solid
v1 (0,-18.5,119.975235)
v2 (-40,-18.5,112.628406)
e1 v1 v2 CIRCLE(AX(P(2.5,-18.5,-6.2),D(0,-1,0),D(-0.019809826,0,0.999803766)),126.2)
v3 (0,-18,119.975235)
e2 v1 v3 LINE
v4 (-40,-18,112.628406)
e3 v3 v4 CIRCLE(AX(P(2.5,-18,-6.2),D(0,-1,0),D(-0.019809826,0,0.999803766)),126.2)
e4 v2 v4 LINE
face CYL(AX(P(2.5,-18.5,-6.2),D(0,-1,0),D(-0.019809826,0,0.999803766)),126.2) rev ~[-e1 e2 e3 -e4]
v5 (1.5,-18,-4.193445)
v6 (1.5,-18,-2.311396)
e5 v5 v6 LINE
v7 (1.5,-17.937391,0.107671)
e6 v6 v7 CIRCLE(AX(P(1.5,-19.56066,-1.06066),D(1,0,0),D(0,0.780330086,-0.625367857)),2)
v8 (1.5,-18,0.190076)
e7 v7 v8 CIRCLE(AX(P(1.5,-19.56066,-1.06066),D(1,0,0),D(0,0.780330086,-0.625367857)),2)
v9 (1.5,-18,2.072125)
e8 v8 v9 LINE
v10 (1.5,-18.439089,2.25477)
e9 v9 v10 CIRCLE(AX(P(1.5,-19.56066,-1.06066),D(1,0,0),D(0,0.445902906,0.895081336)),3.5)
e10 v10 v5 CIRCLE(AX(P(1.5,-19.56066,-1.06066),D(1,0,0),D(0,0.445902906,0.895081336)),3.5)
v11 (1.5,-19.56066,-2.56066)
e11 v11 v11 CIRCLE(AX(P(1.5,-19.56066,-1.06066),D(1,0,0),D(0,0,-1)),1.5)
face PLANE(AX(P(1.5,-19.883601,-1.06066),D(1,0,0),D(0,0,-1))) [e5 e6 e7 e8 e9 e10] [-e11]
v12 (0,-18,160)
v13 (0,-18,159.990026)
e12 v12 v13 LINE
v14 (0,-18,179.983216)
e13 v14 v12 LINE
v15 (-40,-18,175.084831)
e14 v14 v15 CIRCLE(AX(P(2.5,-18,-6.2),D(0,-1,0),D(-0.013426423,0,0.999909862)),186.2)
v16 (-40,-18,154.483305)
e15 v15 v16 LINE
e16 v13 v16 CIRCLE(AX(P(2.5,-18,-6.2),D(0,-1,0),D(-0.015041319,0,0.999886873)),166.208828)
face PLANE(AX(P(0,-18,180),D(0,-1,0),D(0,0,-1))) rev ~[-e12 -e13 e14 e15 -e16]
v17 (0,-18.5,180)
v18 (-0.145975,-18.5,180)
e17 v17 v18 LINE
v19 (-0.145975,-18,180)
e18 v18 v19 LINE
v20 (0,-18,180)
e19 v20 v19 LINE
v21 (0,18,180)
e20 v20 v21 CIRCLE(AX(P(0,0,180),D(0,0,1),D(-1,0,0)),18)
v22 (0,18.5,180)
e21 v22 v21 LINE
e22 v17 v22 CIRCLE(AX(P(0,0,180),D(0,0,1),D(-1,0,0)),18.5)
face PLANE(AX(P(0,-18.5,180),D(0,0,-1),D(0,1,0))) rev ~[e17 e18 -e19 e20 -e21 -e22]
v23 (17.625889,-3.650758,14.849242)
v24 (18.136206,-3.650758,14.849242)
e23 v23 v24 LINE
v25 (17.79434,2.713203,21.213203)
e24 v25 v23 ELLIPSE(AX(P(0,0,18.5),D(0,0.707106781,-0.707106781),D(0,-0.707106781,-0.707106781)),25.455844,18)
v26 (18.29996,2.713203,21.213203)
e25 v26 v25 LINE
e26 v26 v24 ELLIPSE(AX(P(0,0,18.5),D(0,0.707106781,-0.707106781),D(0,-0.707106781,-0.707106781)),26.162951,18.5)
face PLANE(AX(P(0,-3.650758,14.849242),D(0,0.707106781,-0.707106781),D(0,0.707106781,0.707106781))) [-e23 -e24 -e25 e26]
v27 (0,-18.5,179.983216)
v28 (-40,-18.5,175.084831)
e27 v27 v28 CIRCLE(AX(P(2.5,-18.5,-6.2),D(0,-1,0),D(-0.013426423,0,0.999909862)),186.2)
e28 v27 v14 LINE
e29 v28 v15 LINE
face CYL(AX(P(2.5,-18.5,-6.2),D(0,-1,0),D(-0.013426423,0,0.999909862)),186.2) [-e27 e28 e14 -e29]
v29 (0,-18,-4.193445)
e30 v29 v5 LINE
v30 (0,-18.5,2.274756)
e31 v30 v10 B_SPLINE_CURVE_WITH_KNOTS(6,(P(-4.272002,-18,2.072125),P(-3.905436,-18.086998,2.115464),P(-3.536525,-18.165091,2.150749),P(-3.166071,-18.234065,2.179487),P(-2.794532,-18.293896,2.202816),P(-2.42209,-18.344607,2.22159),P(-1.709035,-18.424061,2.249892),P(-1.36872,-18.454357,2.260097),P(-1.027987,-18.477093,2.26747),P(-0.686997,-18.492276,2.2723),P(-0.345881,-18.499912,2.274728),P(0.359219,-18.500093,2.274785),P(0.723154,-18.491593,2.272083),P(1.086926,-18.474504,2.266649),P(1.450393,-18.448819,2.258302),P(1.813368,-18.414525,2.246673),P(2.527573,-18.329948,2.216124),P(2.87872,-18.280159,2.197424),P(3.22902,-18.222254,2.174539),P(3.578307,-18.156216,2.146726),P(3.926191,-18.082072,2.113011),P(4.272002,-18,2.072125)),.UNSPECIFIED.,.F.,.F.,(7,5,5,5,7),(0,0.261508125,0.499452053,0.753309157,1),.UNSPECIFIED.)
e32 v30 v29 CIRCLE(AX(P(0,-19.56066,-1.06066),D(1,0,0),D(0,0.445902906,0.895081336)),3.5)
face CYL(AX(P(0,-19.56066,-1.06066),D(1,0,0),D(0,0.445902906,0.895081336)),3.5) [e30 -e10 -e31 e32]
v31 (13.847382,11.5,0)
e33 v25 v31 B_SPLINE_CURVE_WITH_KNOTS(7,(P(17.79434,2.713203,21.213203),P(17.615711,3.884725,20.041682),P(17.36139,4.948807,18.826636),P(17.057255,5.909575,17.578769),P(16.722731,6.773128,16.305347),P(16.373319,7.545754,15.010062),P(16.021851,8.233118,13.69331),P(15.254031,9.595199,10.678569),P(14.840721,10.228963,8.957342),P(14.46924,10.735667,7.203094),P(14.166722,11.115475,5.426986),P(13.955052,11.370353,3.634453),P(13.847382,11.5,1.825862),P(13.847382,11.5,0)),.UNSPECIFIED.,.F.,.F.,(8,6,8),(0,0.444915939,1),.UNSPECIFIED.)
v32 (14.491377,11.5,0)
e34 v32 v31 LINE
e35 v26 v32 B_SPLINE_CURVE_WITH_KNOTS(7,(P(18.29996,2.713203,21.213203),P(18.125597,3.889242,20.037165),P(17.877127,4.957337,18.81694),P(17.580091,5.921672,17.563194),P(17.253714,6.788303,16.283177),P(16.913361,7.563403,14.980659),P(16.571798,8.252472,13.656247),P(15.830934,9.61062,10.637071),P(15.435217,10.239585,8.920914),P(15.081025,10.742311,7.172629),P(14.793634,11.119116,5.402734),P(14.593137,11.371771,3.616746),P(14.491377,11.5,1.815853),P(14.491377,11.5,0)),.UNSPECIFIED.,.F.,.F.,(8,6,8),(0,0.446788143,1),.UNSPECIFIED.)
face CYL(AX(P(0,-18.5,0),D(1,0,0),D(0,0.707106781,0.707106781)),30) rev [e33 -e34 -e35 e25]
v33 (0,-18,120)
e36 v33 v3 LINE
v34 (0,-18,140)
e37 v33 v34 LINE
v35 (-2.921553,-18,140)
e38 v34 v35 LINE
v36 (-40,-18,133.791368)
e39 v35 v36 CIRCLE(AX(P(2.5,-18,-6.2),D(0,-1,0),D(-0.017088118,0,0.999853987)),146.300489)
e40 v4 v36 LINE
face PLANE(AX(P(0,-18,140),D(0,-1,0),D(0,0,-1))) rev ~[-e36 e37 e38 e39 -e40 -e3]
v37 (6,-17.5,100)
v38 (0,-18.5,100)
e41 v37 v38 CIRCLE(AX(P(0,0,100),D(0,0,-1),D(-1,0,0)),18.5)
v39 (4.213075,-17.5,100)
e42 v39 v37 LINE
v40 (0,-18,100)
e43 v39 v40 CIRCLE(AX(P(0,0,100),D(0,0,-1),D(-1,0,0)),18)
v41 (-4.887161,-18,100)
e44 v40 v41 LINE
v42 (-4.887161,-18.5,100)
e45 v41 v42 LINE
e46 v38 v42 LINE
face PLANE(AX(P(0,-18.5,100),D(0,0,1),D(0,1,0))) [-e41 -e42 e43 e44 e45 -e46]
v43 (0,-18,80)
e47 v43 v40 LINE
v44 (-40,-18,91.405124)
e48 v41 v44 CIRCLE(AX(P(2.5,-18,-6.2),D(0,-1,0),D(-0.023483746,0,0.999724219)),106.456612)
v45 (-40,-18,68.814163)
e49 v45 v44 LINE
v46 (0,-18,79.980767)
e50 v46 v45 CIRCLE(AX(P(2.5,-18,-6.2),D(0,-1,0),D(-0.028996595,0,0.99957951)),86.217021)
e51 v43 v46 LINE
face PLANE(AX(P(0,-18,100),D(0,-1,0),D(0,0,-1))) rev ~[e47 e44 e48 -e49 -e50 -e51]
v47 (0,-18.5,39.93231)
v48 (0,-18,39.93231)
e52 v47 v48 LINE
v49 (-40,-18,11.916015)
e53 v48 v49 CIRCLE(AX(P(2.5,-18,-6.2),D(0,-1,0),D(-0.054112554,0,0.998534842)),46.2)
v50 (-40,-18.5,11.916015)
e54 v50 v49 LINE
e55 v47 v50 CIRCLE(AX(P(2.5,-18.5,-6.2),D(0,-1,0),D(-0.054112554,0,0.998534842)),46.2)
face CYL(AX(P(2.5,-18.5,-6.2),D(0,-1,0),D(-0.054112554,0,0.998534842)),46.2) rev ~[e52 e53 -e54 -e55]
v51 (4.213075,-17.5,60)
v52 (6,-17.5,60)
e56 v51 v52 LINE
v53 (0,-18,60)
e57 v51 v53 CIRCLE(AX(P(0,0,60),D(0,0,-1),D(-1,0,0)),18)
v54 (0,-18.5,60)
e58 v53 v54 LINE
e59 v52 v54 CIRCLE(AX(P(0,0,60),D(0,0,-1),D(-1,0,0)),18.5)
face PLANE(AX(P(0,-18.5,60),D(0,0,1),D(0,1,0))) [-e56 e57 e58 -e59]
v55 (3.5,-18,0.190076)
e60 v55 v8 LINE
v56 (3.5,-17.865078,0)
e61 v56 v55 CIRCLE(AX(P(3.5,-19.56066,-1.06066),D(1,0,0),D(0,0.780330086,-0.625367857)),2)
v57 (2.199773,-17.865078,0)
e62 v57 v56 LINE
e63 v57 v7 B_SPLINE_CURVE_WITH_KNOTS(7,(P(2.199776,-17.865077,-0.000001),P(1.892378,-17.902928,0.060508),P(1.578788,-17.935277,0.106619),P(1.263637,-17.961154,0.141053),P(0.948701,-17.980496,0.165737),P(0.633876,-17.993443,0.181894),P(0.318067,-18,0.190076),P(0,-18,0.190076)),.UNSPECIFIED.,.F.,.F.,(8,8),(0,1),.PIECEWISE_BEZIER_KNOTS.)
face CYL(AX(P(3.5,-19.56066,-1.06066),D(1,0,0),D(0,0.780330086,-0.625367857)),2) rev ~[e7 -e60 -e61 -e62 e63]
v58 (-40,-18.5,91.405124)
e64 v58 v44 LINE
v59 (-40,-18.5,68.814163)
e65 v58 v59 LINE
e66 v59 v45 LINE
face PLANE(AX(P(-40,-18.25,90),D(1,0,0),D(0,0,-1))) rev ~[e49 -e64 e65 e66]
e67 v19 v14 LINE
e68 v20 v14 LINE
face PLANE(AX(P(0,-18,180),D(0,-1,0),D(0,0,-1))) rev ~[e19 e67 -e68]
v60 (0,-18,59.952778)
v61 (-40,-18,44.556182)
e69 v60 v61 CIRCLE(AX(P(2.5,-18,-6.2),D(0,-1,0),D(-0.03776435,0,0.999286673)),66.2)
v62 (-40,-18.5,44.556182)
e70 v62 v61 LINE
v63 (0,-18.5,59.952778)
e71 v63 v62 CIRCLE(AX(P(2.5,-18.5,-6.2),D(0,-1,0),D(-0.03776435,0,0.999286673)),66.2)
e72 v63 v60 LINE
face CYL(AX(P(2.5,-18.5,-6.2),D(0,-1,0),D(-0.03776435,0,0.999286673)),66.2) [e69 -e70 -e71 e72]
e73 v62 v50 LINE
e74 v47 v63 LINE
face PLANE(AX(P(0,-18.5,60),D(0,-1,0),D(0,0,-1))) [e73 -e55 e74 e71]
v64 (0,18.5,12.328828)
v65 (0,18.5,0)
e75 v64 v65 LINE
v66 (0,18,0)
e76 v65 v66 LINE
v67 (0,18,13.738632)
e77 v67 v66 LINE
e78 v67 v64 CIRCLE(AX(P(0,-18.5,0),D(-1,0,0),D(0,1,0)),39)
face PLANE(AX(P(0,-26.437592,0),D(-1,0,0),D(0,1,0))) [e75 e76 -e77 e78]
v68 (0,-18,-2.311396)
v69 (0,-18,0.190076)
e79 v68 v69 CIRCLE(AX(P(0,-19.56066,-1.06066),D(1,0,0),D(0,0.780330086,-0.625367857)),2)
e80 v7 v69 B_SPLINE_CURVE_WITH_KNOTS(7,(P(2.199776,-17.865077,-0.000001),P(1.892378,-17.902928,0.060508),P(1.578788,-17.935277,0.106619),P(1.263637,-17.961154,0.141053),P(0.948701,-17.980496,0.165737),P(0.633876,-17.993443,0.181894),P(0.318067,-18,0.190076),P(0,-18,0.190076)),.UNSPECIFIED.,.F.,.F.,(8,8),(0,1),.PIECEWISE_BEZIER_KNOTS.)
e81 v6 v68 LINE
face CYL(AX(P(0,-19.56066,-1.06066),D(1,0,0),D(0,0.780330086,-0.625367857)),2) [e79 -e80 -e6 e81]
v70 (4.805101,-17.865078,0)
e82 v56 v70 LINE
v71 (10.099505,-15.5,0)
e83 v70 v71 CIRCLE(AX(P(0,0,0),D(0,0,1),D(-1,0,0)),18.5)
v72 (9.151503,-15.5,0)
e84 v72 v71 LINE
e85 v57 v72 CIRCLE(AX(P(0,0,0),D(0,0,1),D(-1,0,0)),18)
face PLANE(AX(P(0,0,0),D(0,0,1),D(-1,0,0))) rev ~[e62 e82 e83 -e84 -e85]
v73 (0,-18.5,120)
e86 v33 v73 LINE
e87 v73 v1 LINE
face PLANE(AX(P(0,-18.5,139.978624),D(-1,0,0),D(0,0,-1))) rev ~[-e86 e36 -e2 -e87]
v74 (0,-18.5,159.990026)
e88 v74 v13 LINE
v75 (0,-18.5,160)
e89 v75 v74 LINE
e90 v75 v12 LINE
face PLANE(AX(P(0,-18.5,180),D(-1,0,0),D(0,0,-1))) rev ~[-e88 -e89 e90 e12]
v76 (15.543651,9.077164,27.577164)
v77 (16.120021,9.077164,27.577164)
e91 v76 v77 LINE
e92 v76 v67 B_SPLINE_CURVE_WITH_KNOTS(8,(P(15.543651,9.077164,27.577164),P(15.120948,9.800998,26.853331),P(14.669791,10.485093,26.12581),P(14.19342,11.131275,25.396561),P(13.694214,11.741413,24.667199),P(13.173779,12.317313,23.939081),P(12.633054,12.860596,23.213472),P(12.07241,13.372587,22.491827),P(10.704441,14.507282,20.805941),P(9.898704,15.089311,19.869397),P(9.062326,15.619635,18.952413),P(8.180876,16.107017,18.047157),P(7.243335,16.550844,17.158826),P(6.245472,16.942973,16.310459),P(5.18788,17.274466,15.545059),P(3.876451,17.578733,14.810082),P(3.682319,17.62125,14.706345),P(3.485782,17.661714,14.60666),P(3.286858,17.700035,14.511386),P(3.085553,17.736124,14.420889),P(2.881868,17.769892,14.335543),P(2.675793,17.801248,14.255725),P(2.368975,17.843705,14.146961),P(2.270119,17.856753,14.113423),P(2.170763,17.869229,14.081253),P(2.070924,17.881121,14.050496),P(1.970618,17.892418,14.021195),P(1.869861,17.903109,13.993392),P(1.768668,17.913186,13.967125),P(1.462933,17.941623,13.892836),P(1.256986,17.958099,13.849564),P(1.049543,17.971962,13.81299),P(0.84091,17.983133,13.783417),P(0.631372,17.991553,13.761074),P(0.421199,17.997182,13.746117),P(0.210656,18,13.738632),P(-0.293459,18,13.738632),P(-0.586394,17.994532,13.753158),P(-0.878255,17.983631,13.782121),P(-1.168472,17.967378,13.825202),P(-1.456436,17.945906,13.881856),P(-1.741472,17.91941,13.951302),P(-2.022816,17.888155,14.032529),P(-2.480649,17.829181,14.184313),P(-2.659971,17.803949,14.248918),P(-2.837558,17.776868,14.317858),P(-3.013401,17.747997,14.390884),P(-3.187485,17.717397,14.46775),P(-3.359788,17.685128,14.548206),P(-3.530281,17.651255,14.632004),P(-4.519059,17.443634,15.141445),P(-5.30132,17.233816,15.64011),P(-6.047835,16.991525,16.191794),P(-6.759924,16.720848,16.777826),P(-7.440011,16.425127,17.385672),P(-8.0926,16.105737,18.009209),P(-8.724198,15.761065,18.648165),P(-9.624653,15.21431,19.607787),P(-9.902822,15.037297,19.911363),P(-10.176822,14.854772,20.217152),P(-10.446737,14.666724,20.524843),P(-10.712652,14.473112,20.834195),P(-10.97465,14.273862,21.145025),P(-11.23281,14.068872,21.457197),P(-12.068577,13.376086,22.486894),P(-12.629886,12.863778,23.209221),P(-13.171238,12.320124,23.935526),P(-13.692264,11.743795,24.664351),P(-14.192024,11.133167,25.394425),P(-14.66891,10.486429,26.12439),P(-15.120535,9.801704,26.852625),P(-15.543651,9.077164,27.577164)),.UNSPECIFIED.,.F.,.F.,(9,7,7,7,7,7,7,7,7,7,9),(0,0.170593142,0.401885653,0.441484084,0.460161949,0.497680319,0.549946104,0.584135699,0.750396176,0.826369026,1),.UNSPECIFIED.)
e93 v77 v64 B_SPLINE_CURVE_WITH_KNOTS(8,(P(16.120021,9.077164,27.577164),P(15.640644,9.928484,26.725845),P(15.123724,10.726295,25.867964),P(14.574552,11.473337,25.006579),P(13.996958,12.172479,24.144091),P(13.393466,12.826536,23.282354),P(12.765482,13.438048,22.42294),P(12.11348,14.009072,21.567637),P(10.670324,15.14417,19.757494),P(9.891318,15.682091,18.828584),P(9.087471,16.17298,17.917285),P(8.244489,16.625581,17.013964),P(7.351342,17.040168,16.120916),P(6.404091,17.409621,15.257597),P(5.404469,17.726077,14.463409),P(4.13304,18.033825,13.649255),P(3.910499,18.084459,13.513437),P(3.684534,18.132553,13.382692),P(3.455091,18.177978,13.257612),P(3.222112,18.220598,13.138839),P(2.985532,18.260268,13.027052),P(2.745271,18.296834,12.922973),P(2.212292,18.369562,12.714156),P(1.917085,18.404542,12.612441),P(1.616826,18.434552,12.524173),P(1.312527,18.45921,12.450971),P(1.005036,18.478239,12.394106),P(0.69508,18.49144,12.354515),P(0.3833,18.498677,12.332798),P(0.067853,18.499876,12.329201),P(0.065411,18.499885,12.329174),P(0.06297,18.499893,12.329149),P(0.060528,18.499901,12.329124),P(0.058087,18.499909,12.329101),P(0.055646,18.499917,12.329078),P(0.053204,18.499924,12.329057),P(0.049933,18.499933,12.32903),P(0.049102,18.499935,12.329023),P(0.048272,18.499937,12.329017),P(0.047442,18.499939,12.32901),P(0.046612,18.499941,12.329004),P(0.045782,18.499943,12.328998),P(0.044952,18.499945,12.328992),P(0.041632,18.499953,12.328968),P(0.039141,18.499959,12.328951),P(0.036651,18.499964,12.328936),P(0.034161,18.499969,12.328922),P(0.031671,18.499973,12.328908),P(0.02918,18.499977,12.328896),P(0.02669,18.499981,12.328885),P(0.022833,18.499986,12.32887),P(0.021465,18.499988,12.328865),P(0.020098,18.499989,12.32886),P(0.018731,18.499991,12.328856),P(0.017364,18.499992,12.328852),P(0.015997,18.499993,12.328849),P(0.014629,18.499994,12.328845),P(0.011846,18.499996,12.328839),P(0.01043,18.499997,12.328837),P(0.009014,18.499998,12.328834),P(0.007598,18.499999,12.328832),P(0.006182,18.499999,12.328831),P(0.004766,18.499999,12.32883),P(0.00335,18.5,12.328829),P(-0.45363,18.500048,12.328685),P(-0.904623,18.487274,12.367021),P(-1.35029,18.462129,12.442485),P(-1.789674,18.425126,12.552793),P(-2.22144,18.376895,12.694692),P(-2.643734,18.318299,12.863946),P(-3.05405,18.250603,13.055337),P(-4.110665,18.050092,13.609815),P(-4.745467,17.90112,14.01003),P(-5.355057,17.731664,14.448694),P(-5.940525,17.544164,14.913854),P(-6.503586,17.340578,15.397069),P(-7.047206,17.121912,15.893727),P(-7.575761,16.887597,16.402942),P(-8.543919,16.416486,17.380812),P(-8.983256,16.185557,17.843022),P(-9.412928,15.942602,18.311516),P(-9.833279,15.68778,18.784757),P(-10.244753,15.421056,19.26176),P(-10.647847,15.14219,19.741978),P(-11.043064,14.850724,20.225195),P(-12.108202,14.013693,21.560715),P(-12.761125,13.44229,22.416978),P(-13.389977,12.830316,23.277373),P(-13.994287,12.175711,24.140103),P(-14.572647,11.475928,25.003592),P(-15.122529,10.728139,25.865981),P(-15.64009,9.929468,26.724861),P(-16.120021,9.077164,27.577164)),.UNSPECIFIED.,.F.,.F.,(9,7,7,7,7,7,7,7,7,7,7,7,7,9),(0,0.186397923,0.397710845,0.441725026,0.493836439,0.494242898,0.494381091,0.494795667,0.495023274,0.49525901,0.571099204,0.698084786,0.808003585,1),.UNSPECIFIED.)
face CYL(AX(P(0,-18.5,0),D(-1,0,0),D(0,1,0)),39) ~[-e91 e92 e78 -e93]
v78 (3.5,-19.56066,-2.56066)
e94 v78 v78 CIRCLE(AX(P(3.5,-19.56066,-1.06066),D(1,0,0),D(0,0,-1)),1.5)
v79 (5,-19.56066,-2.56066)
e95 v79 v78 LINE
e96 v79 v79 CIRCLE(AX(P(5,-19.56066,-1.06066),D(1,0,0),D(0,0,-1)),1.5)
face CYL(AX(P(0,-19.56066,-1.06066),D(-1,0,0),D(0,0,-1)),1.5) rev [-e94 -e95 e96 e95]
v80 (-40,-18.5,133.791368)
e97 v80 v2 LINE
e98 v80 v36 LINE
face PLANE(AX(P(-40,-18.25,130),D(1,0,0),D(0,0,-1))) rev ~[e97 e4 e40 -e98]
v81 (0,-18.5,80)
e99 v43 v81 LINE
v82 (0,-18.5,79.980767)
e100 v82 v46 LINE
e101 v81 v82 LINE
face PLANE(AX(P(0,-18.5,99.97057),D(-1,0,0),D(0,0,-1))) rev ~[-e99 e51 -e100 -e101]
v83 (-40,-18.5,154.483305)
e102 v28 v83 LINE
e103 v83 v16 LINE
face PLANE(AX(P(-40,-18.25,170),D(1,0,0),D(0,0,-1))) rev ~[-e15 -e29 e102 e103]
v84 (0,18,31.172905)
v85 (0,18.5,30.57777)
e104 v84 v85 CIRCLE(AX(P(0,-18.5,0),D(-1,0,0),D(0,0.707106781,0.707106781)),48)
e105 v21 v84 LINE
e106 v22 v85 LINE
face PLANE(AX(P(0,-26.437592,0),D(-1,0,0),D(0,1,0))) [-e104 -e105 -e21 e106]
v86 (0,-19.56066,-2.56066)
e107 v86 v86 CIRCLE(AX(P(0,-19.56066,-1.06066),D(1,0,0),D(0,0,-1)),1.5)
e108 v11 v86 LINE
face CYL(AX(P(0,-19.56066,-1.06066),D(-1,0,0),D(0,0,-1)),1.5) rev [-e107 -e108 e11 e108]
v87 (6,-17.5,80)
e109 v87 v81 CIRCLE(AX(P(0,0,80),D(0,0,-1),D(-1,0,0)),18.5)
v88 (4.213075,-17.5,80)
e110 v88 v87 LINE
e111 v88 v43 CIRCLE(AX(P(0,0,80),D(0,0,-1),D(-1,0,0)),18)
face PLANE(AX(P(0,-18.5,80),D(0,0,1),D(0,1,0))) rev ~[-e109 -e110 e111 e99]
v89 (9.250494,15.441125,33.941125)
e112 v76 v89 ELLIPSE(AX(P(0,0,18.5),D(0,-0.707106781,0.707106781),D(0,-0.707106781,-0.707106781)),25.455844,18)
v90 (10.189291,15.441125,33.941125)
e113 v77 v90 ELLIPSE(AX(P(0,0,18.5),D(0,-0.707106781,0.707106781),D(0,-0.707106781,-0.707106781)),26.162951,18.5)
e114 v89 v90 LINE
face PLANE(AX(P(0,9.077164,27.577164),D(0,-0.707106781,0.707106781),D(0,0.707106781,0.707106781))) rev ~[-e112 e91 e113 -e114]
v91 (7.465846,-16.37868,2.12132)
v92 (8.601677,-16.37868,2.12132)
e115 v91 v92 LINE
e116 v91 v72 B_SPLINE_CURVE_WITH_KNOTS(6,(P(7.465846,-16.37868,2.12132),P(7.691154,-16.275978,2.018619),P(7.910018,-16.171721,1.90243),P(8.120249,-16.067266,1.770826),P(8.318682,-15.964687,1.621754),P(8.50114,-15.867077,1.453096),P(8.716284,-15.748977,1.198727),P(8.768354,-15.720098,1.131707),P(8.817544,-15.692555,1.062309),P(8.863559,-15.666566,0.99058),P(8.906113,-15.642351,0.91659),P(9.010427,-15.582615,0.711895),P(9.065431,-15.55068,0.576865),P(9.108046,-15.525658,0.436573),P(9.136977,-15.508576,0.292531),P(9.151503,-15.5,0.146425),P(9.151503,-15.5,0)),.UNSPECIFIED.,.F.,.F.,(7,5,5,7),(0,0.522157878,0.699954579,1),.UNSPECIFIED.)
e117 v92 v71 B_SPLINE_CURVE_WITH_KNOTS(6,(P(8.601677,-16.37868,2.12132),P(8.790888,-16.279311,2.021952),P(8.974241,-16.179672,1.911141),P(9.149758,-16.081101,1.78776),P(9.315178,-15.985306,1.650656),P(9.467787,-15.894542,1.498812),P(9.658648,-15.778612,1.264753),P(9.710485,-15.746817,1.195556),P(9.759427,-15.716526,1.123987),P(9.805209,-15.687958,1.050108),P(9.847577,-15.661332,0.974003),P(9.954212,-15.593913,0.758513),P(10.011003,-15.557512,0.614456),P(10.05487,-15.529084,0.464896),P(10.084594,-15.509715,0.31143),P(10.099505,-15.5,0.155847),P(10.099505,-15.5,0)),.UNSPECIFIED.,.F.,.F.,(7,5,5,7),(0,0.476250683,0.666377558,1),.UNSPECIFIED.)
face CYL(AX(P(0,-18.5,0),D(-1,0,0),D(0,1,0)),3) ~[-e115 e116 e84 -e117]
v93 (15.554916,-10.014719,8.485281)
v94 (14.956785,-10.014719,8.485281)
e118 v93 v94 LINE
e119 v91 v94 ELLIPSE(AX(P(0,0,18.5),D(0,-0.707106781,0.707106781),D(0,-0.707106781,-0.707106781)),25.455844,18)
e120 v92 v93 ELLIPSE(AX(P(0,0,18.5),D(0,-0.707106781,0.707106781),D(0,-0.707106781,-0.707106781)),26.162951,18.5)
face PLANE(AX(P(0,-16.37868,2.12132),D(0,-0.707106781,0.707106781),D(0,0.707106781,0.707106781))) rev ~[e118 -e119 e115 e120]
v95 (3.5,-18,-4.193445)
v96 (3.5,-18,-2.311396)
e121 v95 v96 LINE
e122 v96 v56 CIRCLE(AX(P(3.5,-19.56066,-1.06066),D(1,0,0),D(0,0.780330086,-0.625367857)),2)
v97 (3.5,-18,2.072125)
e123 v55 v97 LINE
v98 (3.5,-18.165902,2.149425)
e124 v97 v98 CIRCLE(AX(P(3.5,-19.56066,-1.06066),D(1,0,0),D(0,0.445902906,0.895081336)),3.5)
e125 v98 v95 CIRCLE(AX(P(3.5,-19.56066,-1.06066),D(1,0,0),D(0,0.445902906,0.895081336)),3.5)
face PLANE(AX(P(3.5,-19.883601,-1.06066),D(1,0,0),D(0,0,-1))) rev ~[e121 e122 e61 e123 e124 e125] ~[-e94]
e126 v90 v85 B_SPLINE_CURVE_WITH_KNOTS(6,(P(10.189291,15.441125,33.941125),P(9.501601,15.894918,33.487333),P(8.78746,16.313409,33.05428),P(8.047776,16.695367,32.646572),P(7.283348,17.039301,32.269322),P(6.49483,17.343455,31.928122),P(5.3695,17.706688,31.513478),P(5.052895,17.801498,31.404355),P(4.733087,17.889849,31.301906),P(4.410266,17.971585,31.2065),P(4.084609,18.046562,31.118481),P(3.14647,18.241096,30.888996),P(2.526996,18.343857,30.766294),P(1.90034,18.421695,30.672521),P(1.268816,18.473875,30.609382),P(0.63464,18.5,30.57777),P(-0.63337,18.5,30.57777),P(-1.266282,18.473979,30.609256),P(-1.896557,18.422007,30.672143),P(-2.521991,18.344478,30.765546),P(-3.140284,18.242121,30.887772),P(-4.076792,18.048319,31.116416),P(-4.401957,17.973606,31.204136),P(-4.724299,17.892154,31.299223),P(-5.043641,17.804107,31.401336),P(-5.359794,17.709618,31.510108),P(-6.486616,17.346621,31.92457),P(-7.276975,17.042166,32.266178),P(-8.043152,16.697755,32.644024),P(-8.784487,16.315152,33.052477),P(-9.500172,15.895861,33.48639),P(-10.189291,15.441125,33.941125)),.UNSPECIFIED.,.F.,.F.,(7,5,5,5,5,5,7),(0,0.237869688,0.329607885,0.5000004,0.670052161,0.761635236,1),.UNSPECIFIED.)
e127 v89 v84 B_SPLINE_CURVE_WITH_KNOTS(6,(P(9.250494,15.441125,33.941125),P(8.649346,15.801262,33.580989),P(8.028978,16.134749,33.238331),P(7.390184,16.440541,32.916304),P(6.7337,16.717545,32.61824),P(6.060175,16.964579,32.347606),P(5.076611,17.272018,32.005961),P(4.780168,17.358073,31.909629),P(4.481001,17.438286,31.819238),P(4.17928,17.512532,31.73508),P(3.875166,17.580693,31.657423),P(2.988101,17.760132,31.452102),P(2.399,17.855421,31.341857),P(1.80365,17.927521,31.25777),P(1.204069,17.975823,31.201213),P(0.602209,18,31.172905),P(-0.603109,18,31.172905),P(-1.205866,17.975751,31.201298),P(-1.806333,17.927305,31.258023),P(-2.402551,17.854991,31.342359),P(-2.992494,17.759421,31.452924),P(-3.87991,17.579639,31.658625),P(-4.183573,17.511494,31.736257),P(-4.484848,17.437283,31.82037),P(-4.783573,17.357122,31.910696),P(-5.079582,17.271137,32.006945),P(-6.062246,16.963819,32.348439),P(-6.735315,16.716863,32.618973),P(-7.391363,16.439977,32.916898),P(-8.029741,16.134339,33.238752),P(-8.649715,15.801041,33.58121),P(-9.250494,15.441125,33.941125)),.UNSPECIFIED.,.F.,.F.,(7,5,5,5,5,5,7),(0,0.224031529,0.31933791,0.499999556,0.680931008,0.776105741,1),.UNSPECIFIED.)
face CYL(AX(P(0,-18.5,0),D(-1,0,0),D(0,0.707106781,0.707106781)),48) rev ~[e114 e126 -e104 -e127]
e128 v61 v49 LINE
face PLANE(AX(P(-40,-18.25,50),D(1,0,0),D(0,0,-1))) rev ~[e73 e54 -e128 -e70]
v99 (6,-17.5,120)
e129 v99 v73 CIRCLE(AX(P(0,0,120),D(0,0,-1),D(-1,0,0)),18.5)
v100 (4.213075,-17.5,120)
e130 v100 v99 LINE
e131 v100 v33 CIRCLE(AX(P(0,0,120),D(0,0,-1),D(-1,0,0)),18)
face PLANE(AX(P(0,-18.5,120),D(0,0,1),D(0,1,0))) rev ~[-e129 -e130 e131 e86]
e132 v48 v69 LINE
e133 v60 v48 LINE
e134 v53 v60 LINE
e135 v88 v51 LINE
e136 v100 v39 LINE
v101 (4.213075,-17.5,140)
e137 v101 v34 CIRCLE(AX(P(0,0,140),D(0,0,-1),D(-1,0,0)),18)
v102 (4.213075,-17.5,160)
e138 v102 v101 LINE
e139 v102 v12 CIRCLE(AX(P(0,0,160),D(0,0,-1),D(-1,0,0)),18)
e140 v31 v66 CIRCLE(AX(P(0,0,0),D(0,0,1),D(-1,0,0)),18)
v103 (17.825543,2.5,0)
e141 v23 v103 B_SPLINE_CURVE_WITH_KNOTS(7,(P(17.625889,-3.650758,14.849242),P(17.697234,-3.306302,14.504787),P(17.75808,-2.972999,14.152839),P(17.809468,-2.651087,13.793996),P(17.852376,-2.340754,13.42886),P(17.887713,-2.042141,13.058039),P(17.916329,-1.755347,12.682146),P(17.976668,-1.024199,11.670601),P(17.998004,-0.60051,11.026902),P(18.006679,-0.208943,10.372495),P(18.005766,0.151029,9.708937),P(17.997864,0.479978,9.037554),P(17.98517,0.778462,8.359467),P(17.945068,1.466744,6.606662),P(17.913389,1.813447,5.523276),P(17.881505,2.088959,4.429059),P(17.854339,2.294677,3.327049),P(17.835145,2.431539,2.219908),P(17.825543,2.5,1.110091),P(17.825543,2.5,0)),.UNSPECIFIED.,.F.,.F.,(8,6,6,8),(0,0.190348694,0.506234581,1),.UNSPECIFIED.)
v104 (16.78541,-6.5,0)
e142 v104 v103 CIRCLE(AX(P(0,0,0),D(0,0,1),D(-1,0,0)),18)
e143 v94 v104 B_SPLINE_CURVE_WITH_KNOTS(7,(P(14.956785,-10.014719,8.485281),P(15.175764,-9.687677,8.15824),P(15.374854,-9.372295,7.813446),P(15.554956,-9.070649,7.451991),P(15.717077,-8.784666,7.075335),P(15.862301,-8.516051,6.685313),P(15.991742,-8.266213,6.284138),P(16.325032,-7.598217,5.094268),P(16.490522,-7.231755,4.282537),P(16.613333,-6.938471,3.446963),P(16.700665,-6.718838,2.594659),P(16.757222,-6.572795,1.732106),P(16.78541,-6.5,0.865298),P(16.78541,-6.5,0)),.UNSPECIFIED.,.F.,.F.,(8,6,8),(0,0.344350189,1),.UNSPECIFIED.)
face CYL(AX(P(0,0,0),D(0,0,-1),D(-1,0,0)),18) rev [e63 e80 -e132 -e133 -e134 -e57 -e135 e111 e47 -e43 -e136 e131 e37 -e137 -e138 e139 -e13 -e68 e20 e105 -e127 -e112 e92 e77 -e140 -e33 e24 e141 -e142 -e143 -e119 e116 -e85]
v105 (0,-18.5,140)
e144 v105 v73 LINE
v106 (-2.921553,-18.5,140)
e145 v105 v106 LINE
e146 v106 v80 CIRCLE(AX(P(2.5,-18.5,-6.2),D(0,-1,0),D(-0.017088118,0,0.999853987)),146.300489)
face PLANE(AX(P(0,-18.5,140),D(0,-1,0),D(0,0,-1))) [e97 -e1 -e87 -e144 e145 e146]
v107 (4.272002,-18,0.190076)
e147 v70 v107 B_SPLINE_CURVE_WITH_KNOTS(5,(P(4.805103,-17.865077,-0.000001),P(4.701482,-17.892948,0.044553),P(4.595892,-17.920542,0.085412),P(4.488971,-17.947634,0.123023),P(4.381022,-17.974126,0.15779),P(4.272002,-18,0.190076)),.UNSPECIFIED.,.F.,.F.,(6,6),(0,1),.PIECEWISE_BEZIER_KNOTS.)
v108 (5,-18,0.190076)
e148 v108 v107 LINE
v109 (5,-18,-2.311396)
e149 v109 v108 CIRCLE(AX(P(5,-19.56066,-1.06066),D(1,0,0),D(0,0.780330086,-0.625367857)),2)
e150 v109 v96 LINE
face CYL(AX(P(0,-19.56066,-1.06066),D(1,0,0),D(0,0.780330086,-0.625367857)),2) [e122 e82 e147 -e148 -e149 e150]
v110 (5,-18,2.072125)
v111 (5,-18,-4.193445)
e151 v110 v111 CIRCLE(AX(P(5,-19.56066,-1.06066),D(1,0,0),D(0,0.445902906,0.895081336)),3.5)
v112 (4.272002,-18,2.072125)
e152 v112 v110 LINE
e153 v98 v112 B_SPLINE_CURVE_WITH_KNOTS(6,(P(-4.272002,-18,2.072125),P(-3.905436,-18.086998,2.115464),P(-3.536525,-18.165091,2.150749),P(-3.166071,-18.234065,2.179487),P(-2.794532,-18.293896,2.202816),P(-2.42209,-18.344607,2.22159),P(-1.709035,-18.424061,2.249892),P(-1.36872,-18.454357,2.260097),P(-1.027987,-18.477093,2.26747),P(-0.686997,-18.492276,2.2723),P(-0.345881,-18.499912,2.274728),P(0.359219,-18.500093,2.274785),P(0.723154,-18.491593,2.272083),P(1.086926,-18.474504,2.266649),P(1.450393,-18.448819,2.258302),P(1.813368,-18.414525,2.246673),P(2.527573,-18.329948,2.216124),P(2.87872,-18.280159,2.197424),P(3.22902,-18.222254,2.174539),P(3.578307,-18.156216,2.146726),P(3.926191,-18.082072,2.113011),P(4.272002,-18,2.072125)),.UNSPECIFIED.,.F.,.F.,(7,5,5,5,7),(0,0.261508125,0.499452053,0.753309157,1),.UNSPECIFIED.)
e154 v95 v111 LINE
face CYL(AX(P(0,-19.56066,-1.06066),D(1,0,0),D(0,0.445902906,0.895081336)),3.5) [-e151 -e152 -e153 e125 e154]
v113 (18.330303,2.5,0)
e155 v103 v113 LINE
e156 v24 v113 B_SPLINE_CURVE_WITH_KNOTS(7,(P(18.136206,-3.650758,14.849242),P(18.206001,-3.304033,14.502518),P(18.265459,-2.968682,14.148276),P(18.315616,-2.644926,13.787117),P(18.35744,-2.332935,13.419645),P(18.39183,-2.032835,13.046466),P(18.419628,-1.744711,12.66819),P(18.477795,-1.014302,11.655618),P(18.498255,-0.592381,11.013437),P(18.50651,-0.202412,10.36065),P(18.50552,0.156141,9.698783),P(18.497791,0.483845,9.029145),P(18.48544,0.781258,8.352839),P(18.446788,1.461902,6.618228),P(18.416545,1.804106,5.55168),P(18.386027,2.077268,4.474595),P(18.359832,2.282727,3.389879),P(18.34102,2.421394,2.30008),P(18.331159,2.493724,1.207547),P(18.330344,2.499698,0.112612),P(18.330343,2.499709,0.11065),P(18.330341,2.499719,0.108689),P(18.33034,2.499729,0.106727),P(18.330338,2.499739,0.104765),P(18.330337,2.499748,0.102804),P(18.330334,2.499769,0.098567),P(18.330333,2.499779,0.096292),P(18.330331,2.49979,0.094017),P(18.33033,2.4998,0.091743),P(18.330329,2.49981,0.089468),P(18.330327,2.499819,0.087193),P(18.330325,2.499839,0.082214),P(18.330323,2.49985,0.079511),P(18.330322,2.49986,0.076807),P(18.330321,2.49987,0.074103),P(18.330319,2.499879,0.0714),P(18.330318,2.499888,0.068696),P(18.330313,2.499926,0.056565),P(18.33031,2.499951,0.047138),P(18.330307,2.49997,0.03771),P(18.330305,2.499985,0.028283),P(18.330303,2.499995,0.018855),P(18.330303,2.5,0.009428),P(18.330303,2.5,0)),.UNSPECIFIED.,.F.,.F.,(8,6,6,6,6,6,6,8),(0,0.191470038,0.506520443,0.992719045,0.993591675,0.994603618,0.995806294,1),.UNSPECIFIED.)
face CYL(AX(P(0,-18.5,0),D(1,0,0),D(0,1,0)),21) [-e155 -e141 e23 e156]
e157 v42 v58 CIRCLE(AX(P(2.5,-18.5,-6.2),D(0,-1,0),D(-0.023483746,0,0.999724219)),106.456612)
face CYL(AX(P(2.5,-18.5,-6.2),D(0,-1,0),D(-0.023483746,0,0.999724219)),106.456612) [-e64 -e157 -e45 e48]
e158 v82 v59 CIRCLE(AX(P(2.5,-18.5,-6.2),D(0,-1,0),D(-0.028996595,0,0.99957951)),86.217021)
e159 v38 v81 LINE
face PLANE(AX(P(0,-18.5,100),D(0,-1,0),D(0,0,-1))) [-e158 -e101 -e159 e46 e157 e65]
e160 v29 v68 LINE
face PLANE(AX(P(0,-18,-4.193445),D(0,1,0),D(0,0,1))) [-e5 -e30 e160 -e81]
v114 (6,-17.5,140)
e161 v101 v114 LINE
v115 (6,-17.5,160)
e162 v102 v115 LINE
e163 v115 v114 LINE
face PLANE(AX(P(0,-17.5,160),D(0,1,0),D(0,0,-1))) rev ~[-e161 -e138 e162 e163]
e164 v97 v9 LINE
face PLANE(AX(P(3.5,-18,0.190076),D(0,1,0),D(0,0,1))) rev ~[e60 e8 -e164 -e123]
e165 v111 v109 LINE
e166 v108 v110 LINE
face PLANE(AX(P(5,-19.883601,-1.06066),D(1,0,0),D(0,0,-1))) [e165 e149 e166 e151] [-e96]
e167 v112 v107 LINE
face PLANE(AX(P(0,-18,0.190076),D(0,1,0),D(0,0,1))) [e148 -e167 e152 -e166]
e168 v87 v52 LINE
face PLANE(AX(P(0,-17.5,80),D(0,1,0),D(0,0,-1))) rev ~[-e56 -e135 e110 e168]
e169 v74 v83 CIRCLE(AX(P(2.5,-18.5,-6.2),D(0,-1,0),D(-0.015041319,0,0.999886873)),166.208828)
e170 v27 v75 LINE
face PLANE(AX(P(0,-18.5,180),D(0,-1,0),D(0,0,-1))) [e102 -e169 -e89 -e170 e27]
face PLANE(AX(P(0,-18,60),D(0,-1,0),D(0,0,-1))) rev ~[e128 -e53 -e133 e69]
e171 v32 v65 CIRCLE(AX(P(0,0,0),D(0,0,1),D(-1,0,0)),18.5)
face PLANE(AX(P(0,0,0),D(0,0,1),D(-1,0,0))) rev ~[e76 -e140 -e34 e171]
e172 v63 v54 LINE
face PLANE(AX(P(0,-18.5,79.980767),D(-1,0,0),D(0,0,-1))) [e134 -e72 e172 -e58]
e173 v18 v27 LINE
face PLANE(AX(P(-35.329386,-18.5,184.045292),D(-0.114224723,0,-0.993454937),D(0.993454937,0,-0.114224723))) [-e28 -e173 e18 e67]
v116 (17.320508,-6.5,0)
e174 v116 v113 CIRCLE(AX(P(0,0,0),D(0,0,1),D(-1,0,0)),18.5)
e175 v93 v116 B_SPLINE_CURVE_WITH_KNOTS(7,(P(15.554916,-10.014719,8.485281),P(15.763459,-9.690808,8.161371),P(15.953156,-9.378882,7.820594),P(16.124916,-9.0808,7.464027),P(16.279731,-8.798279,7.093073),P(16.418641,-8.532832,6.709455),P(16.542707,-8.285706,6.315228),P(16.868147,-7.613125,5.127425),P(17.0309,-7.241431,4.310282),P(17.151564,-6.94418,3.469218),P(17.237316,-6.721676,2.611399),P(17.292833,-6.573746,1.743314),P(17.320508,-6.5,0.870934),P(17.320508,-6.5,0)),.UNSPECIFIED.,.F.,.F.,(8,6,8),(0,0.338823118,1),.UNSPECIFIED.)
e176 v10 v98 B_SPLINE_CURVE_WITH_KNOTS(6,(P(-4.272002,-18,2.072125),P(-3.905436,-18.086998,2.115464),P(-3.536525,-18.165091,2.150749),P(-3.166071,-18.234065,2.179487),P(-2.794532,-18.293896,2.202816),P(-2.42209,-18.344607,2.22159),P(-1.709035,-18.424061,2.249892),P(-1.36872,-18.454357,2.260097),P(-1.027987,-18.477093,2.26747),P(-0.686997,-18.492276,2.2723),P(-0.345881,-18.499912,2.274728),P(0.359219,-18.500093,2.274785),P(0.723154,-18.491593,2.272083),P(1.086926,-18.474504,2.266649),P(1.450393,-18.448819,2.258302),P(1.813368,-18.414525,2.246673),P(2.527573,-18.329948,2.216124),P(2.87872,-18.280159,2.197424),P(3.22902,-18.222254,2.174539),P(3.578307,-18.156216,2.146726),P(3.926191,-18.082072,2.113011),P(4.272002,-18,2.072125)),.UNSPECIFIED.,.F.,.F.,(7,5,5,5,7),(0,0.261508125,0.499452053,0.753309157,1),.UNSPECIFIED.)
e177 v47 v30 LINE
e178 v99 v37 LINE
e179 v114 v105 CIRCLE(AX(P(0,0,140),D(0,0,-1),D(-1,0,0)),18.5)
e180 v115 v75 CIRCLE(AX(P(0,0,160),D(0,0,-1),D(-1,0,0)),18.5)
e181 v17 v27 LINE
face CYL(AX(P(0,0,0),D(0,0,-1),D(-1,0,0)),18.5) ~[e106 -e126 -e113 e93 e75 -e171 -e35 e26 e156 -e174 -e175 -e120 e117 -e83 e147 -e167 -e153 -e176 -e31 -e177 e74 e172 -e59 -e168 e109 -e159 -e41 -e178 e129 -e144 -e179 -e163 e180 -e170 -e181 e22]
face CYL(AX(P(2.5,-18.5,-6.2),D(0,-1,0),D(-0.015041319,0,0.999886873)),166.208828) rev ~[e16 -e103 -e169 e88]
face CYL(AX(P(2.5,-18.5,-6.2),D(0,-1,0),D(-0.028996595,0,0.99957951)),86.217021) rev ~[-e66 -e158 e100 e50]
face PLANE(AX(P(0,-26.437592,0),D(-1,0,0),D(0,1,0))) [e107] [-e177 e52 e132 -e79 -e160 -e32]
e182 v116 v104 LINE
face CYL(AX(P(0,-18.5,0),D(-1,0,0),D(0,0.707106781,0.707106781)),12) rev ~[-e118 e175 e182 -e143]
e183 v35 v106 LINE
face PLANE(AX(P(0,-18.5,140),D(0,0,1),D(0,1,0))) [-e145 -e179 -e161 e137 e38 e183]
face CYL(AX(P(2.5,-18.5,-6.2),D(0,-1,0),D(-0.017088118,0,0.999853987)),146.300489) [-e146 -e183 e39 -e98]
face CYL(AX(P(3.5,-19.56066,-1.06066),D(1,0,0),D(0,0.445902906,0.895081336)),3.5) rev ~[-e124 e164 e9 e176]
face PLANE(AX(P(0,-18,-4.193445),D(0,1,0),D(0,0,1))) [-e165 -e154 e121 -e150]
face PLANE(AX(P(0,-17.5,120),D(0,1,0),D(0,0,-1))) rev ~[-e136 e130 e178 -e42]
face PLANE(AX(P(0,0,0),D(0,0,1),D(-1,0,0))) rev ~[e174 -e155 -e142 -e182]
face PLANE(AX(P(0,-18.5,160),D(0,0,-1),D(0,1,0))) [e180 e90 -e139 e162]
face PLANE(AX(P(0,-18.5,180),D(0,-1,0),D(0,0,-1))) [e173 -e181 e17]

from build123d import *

# Parameters (mm, degrees)
SKETCH_1_R           = 18.5
SKETCH_1_R_2         = 18
EXTRUDE_1_DEPTH      = 180
CUT_EXTRUDE_1_DEPTH  = 30
SKETCH_5_R           = 1.5
EXTRUDE_2_DEPTH      = 5
SKETCH_8_R           = 1.5
CUT_EXTRUDE_2_DEPTH  = 2
SKETCH_9_R           = 1.5
CUT_EXTRUDE_3_DEPTH  = 2
SKETCH_15_W          = 19.647344242
SKETCH_15_H          = 48.423013506
CUT_EXTRUDE_7_DEPTH  = 208.5
SKETCH_16_W          = 20
SKETCH_16_H          = 0.5
EXTRUDE_4_DEPTH      = 40
SKETCH_17_W          = 20
SKETCH_17_H          = 1
CUT_EXTRUDE_8_DEPTH  = 40
EXTRUDE_8_DEPTH      = 0.5
CUT_EXTRUDE_10_DEPTH = 0.5


with BuildPart() as part:
    # 草图1 → 凸台-拉伸1 (new body)
    with BuildSketch(Plane.XY):
        with Locations(Location((0, 0, 0), (0, 0, 180))):
            Circle(SKETCH_1_R)
        with Locations(Location((0, 0, 0), (0, 0, 180))):
            Circle(SKETCH_1_R_2, mode=Mode.SUBTRACT)
    extrude(amount=EXTRUDE_1_DEPTH)

    # 草图4 → 切除-拉伸1 (cut, symmetric)
    with BuildSketch(Plane(origin=(0, 0, 0), x_dir=(0, 0, -1), z_dir=(1, 0, 0))):
        with BuildLine():
            Line((-2.121320344, -16.378679656), (-8.485281374, -10.014718626))
            ThreePointArc((-8.485281374, -10.014718626), (-4.592201188, -7.41344561), (0, -6.5))
            Line((0, -6.5), (0, -15.5))
            ThreePointArc((0, -15.5), (-1.148050297, -15.728361402), (-2.121320344, -16.378679656))
        make_face()
        with BuildLine():
            Line((-23.744748589, 23.215547635), (0, 23.215547635))
            Line((0, 23.215547635), (0, 20.5))
            ThreePointArc((0, 20.5), (-14.924653862, 17.531301768), (-27.577164466, 9.077164466))
            Line((-27.577164466, 9.077164466), (-33.941125497, 15.441125497))
            ThreePointArc((-33.941125497, 15.441125497), (-29.103701262, 19.670336295), (-23.744748589, 23.215547635))
        make_face()
        with BuildLine():
            Line((-14.849242405, -3.650757595), (-21.213203436, 2.713203436))
            ThreePointArc((-21.213203436, 2.713203436), (-11.480502971, 9.216385975), (0, 11.5))
            Line((0, 11.5), (0, 2.5))
            ThreePointArc((0, 2.5), (-8.03635208, 0.901470183), (-14.849242405, -3.650757595))
        make_face()
    extrude(amount=CUT_EXTRUDE_1_DEPTH, both=True, mode=Mode.SUBTRACT)

    # 草图5 → 凸台-拉伸2 (add, symmetric)
    with BuildSketch(Plane(origin=(0, 0, 0), x_dir=(0, 0, -1), z_dir=(1, 0, 0))):
        with BuildLine():
            Line((-0.190075543, -18), (-2.072124505, -18))
            ThreePointArc((-2.072124505, -18), (1.060660172, -23.060660172), (4.193444848, -18))
            Line((4.193444848, -18), (2.311395887, -18))
            ThreePointArc((2.311395887, -18), (1.060660172, -17.560660172), (-0.190075543, -18))
        make_face()
        with Locations((1.060660172, -19.560660172)):
            Circle(SKETCH_5_R, mode=Mode.SUBTRACT)
    extrude(amount=EXTRUDE_2_DEPTH, both=True)

    # 草图8 → 切除-拉伸2 (cut)
    with BuildSketch(Plane(origin=(3.5, 0, 0), x_dir=(0, 0, -1), z_dir=(1, 0, 0))):
        with BuildLine():
            Line((-0.190075543, -18), (-2.072124505, -18))
            ThreePointArc((-2.072124505, -18), (1.060660172, -23.060660172), (4.193444848, -18))
            Line((4.193444848, -18), (2.311395887, -18))
            ThreePointArc((2.311395887, -18), (1.060660172, -17.560660172), (-0.190075543, -18))
        make_face()
        with Locations((1.060660172, -19.560660172)):
            Circle(SKETCH_8_R, mode=Mode.SUBTRACT)
    extrude(amount=-CUT_EXTRUDE_2_DEPTH, mode=Mode.SUBTRACT)

    # 草图9 → 切除-拉伸3 (cut)
    with BuildSketch(Plane(origin=(-1.5, 0, 0), x_dir=(0, 0, -1), z_dir=(1, 0, 0))):
        with BuildLine():
            Line((-2.072124505, -18), (-0.190075543, -18))
            ThreePointArc((-0.190075543, -18), (1.060660172, -17.560660172), (2.311395887, -18))
            Line((2.311395887, -18), (4.193444848, -18))
            ThreePointArc((4.193444848, -18), (1.060660172, -23.060660172), (-2.072124505, -18))
        make_face()
        with Locations((1.060660172, -19.560660172)):
            Circle(SKETCH_9_R, mode=Mode.SUBTRACT)
    extrude(amount=-CUT_EXTRUDE_3_DEPTH, mode=Mode.SUBTRACT)

    # 草图15 → 切除-拉伸7 (cut, symmetric)
    with BuildSketch(Plane(origin=(0, 0, 0), x_dir=(-1, 0, 0), z_dir=(0, 0, -1))):
        with Locations((9.823672121, -2.226084919)):
            Rectangle(SKETCH_15_W, SKETCH_15_H)
    extrude(amount=CUT_EXTRUDE_7_DEPTH, both=True, mode=Mode.SUBTRACT)

    # 草图16 → 凸台-拉伸4 (add)
    with BuildSketch(Plane(origin=(0, 0, 0), x_dir=(0, 0, -1), z_dir=(1, 0, 0))):
        with Locations((-90, -18.25)):
            Rectangle(SKETCH_16_W, SKETCH_16_H)
        with Locations((-50, -18.25)):
            Rectangle(SKETCH_16_W, SKETCH_16_H)
        with Locations((-130, -18.25)):
            Rectangle(SKETCH_16_W, SKETCH_16_H)
        with Locations((-170, -18.25)):
            Rectangle(SKETCH_16_W, SKETCH_16_H)
    extrude(amount=-EXTRUDE_4_DEPTH)

    # 草图17 → 切除-拉伸8 (cut)
    with BuildSketch(Plane(origin=(0, 0, 0), x_dir=(0, 0, -1), z_dir=(1, 0, 0))):
        with Locations((-110, -18)):
            Rectangle(SKETCH_17_W, SKETCH_17_H)
        with Locations((-150, -18)):
            Rectangle(SKETCH_17_W, SKETCH_17_H)
        with Locations((-70, -18)):
            Rectangle(SKETCH_17_W, SKETCH_17_H)
    extrude(amount=CUT_EXTRUDE_8_DEPTH, mode=Mode.SUBTRACT)

    # 草图20 → 凸台-拉伸8 (add)
    with BuildSketch(Plane.XZ.offset(18.5)):
        with BuildLine():
            Line((0, 59.952777719), (0, 39.932309719))
            ThreePointArc((0, 39.932309719), (-24.004305164, 31.641271223), (-40, 11.916015014))
            Line((-40, 11.916015014), (-40, 44.556181889))
            ThreePointArc((-40, 44.556181889), (-21.280533863, 55.581277174), (0, 59.952777719))
        make_face()
        with BuildLine():
            Line((-40, 68.814162833), (-40, 91.125176599))
            ThreePointArc((-40, 91.125176599), (-20.430552708, 97.494887784), (0, 99.97057031))
            Line((0, 99.97057031), (0, 79.980767144))
            ThreePointArc((0, 79.980767144), (-20.682391226, 76.84186512), (-40, 68.814162833))
        make_face()
        with BuildLine():
            Line((0, 180), (0, 159.99002565))
            ThreePointArc((0, 159.99002565), (-20.167840481, 158.455833888), (-40, 154.483305373))
            Line((-40, 154.483305373), (-40, 175.102068383))
            ThreePointArc((-40, 175.102068383), (-20.132883898, 178.636258798), (0, 180))
        make_face()
        with BuildLine():
            Line((-40, 112.628405695), (-40, 133.686346725))
            ThreePointArc((-40, 133.686346725), (-20.218894936, 138.224000128), (0, 139.978623608))
            Line((0, 139.978623608), (0, 119.975235288))
            ThreePointArc((0, 119.975235288), (-20.297894119, 117.923712576), (-40, 112.628405695))
        make_face()
    extrude(amount=-EXTRUDE_8_DEPTH)

    # 草图21 → 切除-拉伸10 (cut)
    with BuildSketch(Plane.XZ.offset(18.5)):
        with BuildLine():
            Line((0, 79.980767144), (0, 59.952777719))
            ThreePointArc((0, 59.952777719), (-21.280533863, 55.581277174), (-40, 44.556181889))
            Line((-40, 44.556181889), (-40, 68.814162833))
            ThreePointArc((-40, 68.814162833), (-20.682391226, 76.84186512), (0, 79.980767144))
        make_face()
        with BuildLine():
            Line((-40, 91.405123559), (-40, 112.628405695))
            ThreePointArc((-40, 112.628405695), (-20.297894119, 117.923712576), (0, 119.975235288))
            Line((0, 119.975235288), (0, 100.22725283))
            ThreePointArc((0, 100.22725283), (-20.428312001, 97.758177426), (-40, 91.405123559))
        make_face()
        with BuildLine():
            Line((0, 159.99002565), (0, 140.07912782))
            ThreePointArc((0, 140.07912782), (-20.218582252, 138.325773675), (-40, 133.791368433))
            Line((-40, 133.791368433), (-40, 154.483305373))
            ThreePointArc((-40, 154.483305373), (-20.167840481, 158.455833888), (0, 159.99002565))
        make_face()
        with BuildLine():
            Line((-40, 175.084831136), (-40, 180))
            Line((-40, 180), (-40, 184.582306451))
            Line((-40, 184.582306451), (-35.32938599, 184.045292069))
            Line((-35.32938599, 184.045292069), (0, 179.983216215))
            ThreePointArc((0, 179.983216215), (-20.132908432, 178.619348164), (-40, 175.084831136))
        make_face()
    extrude(amount=-CUT_EXTRUDE_10_DEPTH, mode=Mode.SUBTRACT)


solid = part.part
